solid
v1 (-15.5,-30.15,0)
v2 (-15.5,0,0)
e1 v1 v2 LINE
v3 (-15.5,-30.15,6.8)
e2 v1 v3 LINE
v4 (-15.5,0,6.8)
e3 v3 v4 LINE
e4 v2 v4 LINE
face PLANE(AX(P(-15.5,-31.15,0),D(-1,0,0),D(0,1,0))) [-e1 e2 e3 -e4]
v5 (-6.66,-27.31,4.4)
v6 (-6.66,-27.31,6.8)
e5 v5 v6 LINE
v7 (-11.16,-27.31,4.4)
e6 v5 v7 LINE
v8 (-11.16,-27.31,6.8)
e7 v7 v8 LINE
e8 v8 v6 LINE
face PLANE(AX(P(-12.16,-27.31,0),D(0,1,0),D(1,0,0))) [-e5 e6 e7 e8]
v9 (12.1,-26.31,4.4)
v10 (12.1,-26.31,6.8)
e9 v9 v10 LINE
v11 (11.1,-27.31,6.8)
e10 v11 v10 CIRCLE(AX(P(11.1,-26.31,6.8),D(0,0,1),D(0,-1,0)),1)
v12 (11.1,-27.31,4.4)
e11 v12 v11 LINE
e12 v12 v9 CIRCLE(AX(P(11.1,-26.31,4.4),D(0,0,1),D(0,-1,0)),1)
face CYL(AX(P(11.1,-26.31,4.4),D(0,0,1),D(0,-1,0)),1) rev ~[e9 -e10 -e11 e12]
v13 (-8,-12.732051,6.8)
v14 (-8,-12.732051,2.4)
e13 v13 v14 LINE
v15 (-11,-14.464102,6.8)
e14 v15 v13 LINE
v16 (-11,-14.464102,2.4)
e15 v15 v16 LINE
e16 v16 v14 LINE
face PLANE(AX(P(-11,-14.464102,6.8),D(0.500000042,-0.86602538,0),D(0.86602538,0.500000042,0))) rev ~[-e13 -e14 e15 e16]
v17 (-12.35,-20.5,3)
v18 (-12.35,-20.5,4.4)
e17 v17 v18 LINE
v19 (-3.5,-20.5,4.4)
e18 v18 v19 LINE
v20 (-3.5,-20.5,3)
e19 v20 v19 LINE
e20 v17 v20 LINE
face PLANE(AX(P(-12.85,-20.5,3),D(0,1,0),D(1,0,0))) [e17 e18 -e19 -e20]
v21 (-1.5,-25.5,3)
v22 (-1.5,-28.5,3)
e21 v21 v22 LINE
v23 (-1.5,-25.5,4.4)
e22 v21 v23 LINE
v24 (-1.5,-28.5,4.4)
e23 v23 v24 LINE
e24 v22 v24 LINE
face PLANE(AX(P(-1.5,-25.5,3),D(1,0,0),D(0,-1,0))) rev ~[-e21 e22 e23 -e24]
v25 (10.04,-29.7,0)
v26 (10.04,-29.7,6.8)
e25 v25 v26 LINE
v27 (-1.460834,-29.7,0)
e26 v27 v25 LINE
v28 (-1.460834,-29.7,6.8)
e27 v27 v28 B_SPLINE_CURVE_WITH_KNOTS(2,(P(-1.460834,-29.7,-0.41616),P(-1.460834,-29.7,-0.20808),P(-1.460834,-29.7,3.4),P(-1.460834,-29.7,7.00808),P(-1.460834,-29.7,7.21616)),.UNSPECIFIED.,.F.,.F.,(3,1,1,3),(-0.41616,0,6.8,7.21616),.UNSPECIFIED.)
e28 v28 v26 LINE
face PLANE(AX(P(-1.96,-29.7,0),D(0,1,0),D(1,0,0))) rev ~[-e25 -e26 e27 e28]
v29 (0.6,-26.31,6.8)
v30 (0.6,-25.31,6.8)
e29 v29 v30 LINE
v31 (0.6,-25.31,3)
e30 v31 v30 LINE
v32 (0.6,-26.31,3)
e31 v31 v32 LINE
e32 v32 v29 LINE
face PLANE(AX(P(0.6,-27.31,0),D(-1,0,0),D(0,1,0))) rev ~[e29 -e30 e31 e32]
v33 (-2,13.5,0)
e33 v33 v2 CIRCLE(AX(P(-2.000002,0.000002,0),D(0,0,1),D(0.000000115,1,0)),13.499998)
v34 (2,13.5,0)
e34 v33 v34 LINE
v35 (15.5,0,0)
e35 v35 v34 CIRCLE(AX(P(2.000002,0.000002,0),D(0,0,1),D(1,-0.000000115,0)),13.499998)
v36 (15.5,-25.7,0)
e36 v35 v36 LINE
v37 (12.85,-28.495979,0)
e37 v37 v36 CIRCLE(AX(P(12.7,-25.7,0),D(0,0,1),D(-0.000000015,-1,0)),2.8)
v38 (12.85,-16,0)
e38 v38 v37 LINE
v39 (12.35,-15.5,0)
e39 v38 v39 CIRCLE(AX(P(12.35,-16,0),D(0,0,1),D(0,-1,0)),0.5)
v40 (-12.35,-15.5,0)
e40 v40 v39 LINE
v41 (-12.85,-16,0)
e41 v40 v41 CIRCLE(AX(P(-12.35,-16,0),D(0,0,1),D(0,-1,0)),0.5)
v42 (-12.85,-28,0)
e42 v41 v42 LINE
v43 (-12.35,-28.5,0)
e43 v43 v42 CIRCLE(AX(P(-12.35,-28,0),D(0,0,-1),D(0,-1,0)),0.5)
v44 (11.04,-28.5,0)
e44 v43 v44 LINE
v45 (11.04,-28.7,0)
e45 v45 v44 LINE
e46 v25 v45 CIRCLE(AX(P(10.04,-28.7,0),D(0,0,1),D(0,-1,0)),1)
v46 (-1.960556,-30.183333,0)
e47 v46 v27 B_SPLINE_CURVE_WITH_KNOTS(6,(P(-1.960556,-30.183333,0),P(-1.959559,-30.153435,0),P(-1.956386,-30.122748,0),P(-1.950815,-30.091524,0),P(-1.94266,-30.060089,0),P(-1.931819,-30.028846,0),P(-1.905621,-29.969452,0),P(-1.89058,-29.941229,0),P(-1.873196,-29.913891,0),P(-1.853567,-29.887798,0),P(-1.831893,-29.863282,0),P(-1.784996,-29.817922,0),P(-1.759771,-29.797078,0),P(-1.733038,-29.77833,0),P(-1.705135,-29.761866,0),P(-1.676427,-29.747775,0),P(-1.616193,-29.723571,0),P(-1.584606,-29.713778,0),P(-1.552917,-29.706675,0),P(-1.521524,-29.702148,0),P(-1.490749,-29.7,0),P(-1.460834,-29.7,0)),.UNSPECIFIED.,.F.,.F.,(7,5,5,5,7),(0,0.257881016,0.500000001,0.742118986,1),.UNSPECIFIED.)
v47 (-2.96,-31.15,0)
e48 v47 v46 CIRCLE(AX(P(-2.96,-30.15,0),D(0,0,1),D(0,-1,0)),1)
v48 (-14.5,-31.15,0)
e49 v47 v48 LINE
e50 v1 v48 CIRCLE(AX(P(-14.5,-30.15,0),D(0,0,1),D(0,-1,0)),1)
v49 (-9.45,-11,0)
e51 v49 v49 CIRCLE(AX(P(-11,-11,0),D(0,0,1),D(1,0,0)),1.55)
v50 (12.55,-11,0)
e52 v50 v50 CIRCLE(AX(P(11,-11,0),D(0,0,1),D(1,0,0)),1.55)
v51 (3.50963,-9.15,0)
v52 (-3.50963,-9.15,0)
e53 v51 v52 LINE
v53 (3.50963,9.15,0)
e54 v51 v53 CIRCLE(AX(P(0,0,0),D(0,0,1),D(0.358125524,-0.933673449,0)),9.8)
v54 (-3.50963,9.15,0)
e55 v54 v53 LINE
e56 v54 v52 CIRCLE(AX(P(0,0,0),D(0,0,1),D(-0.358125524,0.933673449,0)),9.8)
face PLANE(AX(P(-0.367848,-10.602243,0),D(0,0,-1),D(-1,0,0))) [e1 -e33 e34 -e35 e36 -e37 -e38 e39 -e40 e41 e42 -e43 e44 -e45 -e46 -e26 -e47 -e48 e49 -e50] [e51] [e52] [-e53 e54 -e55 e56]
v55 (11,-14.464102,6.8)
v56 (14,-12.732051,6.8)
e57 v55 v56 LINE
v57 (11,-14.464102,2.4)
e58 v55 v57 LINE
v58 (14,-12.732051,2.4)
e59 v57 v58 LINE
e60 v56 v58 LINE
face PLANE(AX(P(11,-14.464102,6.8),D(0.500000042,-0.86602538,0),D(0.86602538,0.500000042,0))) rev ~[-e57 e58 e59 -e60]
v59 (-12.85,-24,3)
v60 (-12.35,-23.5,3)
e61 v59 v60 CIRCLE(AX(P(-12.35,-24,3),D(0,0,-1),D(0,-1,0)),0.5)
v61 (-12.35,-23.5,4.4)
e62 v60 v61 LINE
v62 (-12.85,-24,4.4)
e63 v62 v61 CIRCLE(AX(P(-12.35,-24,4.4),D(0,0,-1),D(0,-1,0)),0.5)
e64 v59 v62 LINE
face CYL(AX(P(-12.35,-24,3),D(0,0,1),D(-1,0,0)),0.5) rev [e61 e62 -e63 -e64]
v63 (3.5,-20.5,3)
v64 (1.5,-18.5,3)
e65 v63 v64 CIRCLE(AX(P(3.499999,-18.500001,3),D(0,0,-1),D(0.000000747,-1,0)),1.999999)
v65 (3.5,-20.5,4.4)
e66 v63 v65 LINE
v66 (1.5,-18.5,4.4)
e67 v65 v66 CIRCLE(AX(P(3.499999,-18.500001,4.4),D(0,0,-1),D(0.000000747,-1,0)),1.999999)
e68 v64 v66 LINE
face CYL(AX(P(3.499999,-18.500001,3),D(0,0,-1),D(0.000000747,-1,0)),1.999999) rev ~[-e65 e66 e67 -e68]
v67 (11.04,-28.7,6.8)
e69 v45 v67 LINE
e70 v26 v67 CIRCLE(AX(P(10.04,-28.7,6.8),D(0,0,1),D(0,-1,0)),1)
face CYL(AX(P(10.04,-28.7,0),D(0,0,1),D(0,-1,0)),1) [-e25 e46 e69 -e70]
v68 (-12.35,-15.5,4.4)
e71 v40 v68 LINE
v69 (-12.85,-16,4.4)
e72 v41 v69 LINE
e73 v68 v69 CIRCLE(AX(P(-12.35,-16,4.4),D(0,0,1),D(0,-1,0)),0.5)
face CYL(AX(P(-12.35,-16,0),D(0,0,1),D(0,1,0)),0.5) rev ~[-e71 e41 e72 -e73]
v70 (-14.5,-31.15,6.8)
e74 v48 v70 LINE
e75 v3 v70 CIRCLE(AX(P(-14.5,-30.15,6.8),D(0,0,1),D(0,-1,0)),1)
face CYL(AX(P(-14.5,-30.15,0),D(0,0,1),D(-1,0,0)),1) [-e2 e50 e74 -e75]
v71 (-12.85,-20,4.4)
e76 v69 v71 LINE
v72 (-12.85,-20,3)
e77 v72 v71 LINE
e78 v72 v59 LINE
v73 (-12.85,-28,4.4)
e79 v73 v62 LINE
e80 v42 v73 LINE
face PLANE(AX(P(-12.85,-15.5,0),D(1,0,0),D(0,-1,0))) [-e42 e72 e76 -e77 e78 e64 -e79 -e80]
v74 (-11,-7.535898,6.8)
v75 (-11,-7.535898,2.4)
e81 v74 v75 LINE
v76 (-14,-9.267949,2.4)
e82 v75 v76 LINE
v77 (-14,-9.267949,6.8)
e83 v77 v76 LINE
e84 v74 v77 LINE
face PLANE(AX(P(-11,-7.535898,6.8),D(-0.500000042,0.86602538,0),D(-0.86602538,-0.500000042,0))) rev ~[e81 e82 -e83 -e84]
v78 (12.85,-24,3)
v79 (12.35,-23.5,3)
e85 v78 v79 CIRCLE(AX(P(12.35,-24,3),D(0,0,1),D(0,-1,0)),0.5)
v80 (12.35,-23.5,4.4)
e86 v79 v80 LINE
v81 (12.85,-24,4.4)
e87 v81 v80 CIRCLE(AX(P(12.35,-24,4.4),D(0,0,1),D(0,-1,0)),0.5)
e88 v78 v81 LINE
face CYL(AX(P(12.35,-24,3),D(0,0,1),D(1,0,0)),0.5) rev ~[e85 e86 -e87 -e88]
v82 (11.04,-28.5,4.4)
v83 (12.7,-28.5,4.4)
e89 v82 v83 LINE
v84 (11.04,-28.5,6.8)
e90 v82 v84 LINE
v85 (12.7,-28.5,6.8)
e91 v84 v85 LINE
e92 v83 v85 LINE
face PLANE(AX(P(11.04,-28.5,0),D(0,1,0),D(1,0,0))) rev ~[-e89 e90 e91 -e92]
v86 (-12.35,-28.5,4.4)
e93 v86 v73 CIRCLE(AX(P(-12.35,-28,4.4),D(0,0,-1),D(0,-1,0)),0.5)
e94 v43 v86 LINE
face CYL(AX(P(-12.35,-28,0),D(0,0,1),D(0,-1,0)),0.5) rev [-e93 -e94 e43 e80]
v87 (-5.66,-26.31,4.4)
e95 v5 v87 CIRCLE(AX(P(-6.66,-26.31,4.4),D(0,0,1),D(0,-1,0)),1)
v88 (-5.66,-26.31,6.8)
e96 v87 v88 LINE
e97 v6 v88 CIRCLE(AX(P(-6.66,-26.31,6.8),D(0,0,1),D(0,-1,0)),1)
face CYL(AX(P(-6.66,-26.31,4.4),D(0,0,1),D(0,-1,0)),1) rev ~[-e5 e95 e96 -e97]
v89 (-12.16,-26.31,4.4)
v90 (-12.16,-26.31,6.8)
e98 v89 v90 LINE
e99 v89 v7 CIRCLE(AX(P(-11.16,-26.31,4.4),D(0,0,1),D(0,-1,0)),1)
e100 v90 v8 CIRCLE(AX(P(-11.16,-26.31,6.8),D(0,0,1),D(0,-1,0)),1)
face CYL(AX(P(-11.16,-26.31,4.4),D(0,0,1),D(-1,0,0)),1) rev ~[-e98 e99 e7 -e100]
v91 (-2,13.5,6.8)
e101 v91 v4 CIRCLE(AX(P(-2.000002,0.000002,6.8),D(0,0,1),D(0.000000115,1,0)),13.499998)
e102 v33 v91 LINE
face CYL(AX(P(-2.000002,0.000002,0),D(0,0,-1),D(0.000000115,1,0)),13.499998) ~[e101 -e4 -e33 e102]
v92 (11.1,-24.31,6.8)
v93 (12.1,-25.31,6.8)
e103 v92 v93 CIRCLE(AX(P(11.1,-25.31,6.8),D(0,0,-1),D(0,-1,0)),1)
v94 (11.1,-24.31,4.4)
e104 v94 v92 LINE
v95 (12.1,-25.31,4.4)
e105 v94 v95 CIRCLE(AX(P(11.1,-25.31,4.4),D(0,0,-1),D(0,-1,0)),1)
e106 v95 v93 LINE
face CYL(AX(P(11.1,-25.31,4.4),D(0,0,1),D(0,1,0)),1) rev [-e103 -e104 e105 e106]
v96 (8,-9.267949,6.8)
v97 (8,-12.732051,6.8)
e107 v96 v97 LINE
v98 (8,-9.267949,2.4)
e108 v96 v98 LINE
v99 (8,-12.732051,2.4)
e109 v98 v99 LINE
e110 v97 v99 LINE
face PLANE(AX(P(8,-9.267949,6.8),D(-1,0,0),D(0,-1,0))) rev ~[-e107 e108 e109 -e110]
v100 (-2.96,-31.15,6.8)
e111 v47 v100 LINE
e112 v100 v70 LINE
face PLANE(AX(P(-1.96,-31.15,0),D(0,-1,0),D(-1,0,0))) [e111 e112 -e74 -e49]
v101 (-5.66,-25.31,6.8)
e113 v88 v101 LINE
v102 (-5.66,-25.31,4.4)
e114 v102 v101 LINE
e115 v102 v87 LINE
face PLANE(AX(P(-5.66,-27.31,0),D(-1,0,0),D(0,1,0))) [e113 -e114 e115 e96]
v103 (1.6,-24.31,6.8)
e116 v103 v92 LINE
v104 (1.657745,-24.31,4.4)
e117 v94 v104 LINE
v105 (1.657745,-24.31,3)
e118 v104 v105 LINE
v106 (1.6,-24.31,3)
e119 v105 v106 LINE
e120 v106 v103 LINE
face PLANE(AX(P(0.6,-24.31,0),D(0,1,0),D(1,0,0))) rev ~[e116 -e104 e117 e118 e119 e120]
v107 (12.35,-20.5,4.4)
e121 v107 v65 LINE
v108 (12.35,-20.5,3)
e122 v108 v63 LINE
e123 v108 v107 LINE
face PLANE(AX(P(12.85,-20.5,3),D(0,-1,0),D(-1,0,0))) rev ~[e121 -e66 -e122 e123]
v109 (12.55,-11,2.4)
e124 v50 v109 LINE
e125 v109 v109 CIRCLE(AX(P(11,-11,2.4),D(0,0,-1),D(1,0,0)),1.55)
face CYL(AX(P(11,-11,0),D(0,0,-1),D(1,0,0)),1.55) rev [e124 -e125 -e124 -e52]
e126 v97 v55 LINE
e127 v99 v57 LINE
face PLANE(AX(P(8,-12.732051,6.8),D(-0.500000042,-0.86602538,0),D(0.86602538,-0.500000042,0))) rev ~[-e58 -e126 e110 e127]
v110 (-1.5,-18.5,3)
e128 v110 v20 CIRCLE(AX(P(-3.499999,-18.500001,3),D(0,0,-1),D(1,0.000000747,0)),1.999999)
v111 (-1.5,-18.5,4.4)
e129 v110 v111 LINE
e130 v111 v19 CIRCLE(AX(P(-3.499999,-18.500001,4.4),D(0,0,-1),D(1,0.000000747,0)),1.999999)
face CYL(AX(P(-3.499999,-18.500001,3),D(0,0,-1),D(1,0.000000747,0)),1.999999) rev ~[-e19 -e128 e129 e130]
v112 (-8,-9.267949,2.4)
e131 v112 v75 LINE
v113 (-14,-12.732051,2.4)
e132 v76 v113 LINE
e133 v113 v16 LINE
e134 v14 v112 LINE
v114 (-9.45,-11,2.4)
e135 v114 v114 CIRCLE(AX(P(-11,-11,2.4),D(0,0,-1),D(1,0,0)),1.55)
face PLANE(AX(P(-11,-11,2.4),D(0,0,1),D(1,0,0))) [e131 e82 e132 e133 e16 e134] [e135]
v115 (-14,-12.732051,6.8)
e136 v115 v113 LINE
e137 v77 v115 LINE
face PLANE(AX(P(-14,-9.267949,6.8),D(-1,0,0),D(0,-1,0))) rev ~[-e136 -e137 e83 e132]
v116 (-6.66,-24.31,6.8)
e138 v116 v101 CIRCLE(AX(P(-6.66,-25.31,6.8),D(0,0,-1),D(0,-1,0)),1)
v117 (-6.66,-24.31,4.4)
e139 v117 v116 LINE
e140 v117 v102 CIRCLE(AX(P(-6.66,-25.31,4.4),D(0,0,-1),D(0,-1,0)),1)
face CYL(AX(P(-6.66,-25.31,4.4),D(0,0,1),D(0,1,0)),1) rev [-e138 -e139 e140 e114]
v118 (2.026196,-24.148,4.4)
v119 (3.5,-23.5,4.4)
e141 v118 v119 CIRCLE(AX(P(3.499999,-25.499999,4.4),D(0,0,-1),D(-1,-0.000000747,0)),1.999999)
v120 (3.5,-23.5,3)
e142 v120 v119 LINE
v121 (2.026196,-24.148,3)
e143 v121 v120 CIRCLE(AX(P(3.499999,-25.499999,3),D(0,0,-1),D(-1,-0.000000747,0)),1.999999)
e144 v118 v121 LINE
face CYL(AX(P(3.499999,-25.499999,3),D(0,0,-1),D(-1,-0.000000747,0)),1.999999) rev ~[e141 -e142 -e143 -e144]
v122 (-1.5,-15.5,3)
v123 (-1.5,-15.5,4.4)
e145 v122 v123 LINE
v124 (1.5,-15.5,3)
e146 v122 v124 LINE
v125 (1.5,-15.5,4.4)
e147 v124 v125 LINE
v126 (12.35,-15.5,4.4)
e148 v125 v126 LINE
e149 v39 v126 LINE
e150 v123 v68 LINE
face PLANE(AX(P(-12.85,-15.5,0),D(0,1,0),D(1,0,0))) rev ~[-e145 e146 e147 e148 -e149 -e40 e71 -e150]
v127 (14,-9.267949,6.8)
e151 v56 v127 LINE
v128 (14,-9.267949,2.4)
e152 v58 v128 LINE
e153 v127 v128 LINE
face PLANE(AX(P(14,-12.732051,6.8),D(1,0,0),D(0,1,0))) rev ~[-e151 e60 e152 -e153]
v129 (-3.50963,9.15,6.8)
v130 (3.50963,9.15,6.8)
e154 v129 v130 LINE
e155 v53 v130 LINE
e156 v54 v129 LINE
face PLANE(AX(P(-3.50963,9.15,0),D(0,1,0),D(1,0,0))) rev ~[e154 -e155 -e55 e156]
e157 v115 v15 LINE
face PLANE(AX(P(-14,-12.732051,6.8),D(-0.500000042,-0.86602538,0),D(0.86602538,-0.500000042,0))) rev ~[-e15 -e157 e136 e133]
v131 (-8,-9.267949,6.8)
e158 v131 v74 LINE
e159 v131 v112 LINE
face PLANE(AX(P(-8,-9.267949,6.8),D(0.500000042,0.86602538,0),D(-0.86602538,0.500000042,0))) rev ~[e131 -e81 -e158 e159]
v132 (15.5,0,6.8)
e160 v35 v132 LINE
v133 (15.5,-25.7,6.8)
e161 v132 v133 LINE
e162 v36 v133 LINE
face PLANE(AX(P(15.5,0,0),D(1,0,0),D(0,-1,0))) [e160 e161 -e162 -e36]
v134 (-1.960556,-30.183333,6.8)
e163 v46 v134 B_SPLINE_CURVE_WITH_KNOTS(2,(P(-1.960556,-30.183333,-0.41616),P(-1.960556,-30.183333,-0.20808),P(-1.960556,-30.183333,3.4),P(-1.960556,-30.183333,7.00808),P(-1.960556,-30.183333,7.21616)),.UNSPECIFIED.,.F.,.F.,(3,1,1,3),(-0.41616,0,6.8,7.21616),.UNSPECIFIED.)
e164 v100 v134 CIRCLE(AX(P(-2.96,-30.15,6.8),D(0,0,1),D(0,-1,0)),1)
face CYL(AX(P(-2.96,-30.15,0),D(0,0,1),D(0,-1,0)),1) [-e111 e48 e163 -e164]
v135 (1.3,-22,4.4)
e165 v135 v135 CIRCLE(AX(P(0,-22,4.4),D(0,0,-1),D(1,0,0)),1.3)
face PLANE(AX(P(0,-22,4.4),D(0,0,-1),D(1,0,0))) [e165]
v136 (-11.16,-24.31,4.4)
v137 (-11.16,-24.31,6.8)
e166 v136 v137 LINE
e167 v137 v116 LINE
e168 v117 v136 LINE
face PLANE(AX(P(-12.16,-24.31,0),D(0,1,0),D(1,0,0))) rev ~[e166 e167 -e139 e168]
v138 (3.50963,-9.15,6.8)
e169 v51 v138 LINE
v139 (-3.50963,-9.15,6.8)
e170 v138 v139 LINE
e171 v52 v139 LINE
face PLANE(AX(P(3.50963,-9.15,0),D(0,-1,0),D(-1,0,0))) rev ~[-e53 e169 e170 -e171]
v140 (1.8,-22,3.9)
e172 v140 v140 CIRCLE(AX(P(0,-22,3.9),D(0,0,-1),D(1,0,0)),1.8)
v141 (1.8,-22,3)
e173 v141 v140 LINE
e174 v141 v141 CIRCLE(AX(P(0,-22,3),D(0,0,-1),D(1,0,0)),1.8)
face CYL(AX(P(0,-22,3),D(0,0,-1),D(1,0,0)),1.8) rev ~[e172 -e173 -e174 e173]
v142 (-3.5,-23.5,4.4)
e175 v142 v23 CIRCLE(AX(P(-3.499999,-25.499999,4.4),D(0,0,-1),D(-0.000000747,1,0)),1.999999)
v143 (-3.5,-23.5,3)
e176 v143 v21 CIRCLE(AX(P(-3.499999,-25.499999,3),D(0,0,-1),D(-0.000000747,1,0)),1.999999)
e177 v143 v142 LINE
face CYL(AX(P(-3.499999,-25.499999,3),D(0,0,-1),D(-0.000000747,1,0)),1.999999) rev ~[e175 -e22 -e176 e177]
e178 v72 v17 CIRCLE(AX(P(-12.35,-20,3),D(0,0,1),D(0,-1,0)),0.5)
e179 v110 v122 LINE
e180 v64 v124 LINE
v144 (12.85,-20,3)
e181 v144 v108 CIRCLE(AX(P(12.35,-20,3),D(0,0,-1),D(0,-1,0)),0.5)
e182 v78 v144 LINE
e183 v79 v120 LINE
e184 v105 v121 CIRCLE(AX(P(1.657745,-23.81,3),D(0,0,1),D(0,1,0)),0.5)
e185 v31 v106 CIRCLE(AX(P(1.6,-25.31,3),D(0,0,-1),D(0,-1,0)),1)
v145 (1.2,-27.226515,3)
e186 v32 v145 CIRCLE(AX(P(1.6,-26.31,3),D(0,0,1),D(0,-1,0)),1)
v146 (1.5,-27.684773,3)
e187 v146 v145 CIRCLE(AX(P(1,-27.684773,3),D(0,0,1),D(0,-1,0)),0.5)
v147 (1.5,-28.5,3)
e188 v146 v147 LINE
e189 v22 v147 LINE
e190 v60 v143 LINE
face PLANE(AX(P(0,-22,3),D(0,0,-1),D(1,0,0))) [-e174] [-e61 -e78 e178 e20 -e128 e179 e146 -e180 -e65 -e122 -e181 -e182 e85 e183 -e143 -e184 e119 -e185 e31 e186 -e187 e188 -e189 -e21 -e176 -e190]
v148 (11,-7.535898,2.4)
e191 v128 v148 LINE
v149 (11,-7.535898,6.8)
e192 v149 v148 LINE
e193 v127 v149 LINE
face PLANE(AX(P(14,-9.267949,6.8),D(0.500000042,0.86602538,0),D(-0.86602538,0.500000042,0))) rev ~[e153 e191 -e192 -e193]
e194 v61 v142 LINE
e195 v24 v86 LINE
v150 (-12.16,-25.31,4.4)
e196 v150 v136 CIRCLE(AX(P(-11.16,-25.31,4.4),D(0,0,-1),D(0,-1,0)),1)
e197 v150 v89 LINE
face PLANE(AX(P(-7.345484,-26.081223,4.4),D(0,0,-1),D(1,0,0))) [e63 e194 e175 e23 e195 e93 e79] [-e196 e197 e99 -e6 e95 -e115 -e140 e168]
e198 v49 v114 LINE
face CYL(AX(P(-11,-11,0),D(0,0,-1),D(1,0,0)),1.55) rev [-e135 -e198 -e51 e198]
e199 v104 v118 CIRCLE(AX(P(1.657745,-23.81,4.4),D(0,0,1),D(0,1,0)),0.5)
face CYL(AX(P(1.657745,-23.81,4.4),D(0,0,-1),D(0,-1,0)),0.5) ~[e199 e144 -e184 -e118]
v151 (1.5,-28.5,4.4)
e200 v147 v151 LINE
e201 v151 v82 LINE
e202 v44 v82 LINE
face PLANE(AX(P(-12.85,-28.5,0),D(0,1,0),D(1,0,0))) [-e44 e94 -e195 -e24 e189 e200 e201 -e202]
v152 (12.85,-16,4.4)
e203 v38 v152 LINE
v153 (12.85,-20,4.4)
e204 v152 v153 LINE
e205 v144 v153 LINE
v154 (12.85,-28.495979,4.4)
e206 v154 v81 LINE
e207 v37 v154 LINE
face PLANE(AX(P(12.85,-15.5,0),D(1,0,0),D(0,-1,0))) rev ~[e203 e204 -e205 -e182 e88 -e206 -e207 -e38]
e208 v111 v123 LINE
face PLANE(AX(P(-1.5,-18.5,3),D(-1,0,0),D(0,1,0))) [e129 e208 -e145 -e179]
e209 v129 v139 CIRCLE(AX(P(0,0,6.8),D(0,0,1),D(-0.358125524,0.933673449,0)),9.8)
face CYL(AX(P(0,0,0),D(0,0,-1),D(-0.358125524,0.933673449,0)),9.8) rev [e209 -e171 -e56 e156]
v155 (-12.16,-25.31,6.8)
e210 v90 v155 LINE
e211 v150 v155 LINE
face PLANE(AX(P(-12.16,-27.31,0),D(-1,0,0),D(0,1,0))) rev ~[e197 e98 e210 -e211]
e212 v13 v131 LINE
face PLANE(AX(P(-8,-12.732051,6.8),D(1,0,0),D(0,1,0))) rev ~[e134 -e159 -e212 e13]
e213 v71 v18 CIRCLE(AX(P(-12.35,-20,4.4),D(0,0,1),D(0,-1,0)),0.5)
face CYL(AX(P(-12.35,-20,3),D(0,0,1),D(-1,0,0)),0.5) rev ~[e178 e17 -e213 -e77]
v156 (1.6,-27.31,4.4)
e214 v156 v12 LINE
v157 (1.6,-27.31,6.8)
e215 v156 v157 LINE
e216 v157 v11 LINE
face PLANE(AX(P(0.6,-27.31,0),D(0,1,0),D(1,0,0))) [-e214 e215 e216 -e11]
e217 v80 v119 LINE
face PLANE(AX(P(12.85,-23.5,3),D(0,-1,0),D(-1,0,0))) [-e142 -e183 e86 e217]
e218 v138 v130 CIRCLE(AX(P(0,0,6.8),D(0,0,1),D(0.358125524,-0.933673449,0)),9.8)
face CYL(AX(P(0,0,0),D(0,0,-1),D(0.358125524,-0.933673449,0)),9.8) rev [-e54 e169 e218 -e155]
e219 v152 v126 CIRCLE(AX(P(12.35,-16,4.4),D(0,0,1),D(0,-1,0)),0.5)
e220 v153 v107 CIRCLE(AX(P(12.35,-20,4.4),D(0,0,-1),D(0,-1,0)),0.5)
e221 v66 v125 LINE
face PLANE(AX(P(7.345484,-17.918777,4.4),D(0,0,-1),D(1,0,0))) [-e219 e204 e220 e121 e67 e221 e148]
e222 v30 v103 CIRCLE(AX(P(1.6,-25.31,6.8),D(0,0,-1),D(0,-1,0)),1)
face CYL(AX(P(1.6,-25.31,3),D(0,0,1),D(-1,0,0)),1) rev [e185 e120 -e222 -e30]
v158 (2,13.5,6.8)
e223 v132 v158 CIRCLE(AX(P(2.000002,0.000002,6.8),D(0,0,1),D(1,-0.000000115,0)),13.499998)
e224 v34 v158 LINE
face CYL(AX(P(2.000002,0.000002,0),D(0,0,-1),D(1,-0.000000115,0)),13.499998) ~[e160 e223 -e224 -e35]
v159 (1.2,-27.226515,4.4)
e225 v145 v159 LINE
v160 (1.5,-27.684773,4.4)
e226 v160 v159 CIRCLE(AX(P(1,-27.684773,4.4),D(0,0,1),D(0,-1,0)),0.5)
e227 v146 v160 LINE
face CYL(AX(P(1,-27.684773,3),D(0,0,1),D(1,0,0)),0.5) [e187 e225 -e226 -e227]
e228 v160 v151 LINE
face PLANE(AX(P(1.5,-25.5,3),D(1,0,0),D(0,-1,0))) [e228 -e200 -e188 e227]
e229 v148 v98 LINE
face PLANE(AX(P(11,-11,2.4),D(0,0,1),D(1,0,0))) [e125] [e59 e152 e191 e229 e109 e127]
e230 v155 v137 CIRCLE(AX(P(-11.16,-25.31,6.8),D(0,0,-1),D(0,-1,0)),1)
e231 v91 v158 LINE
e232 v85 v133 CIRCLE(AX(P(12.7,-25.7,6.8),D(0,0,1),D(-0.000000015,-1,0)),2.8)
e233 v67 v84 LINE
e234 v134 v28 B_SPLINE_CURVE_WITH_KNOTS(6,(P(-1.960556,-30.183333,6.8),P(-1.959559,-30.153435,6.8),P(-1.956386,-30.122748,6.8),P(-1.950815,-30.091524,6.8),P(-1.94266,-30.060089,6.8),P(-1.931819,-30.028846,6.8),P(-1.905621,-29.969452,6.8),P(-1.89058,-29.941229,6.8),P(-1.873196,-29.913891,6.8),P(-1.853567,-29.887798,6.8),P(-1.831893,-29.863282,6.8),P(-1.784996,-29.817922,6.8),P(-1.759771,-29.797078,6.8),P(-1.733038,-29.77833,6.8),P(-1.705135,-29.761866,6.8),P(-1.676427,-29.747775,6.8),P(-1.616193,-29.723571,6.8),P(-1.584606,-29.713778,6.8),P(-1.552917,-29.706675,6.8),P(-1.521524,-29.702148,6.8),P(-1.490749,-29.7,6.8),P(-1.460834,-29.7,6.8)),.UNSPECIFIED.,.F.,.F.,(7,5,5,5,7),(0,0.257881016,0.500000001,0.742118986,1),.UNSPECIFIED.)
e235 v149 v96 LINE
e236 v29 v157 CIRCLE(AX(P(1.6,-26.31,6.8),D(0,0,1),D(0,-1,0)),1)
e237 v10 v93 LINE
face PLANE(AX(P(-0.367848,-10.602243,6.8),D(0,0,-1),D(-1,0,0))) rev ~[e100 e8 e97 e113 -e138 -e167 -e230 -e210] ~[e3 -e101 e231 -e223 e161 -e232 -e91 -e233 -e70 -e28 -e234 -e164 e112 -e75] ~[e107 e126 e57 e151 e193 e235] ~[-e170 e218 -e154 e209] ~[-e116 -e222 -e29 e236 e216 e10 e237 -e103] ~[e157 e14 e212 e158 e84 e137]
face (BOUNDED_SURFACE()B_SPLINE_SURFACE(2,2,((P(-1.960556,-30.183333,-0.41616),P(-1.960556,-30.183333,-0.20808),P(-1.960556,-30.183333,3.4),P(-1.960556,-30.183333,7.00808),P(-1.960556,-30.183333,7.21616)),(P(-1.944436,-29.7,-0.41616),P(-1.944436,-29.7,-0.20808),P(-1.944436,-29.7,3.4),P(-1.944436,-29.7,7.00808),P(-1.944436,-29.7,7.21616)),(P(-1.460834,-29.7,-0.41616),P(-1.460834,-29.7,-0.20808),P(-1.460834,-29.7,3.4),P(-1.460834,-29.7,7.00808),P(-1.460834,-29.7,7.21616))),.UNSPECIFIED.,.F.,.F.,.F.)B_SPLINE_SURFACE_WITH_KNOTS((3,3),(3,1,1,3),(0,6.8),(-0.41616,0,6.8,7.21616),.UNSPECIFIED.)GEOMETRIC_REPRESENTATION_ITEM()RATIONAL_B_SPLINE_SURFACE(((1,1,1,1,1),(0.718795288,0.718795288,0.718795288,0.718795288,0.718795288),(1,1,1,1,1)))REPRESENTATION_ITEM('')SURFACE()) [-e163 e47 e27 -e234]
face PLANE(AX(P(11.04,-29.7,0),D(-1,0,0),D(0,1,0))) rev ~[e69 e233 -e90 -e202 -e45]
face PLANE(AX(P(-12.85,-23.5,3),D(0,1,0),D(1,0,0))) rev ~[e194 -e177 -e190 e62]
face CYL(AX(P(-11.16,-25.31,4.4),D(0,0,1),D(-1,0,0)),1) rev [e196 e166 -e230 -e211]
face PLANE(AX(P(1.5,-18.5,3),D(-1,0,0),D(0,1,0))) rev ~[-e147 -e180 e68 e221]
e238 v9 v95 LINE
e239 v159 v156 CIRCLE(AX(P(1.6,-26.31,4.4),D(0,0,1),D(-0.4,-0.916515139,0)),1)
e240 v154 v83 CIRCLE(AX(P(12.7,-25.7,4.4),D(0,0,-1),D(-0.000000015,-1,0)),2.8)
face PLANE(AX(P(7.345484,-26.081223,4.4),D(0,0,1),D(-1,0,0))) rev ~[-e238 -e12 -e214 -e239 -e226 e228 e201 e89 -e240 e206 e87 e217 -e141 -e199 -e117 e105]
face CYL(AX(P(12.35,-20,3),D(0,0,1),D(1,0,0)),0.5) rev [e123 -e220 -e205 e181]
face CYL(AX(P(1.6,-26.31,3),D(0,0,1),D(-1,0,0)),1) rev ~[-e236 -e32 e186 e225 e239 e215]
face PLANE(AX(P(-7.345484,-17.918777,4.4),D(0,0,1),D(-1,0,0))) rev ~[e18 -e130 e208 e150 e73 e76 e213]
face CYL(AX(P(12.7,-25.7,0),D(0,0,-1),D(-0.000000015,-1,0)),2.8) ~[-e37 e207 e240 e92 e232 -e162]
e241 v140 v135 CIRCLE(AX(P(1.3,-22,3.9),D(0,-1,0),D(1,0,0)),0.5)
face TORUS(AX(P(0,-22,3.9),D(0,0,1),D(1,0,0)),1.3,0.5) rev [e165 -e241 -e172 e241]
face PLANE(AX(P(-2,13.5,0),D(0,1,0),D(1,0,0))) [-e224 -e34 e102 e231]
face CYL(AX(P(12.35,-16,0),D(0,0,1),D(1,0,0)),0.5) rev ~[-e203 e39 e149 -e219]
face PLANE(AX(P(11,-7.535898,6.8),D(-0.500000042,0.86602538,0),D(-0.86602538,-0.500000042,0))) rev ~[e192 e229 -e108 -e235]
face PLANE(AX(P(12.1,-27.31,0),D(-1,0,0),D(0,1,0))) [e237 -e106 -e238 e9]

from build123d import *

# Parameters (mm, degrees)
SKETCH_R        = 1.55
SKETCH_W        = 6.5
SKETCH_H        = 3
SKETCH_W_2      = 11.5
PAD_DEPTH       = 6.8
SKETCH005_W     = 25.7
SKETCH005_H     = 13
POCKET_DEPTH    = 3
SKETCH006_R     = 1.8
POCKET001_DEPTH = 1.4
POCKET002_DEPTH = 4.4
FILLET_R        = 1
FILLET001_R     = 0.5


with BuildPart() as part:
    # Sketch → Pad (new body)
    with BuildSketch(Plane.XY):
        with BuildLine():
            Line((-2, 13.5), (2, 13.5))
            ThreePointArc((15.5, 0), (11.545942, 9.545942), (2, 13.5))
            Line((15.5, 0), (15.5, -25.7))
            ThreePointArc((12.7, -28.5), (14.679899, -27.679899), (15.5, -25.7))
            Line((11.04, -28.5), (12.7, -28.5))
            Line((11.04, -29.7), (11.04, -28.5))
            Line((-1.96, -29.7), (11.04, -29.7))
            Line((-1.96, -31.15), (-1.96, -29.7))
            Line((-1.96, -31.15), (-15.5, -31.15))
            Line((-15.5, -31.15), (-15.5, 0))
            ThreePointArc((-2, 13.5), (-11.545942, 9.545942), (-15.5, 0))
        make_face()
        with Locations((-11, -11)):
            Circle(SKETCH_R, mode=Mode.SUBTRACT)
        with Locations((11, -11)):
            Circle(SKETCH_R, mode=Mode.SUBTRACT)
        with BuildLine():
            ThreePointArc((-3.50963, 9.15), (-9.8, 0), (-3.50963, -9.15))
            Line((3.50963, -9.15), (-3.50963, -9.15))
            ThreePointArc((3.50963, -9.15), (9.8, 0), (3.50963, 9.15))
            Line((-3.50963, 9.15), (3.50963, 9.15))
        make_face(mode=Mode.SUBTRACT)
        with Locations((-8.91, -25.81)):
            Rectangle(SKETCH_W, SKETCH_H, mode=Mode.SUBTRACT)
        with Locations((6.35, -25.81)):
            Rectangle(SKETCH_W_2, SKETCH_H, mode=Mode.SUBTRACT)
    extrude(amount=PAD_DEPTH)

    # Sketch005 (on Face26 of Pad) → Pocket (cut)
    with BuildSketch(Plane(origin=(0, 0, 0), x_dir=(1, 0, 0), z_dir=(0, 0, -1))):
        with Locations((0, 22)):
            Rectangle(SKETCH005_W, SKETCH005_H)
    extrude(amount=-POCKET_DEPTH, mode=Mode.SUBTRACT)

    # Sketch006 (on Face32 of Pocket) → Pocket001 (cut)
    with BuildSketch(Plane(origin=(0, 0, 3), x_dir=(1, 0, 0), z_dir=(0, 0, -1))):
        with Locations((0, 22)):
            Circle(SKETCH006_R)
        with BuildLine():
            Line((-12.85, 20.5), (-3.5, 20.5))
            ThreePointArc((-1.5, 18.5), (-2.085786, 19.914214), (-3.5, 20.5))
            Line((-1.5, 18.5), (-1.5, 15.5))
            Line((-1.5, 15.5), (-12.85, 15.5))
            Line((-12.85, 15.5), (-12.85, 20.5))
        make_face()
        with BuildLine():
            Line((1.5, 15.5), (12.85, 15.5))
            Line((12.85, 15.5), (12.85, 20.5))
            Line((12.85, 20.5), (3.5, 20.5))
            ThreePointArc((3.5, 20.5), (2.085786, 19.914214), (1.5, 18.5))
            Line((1.5, 18.5), (1.5, 15.5))
        make_face()
        with BuildLine():
            Line((-12.85, 23.5), (-3.5, 23.5))
            ThreePointArc((-3.5, 23.5), (-2.085786, 24.085786), (-1.5, 25.5))
            Line((-1.5, 25.5), (-1.5, 28.5))
            Line((-1.5, 28.5), (-12.85, 28.5))
            Line((-12.85, 28.5), (-12.85, 23.5))
        make_face()
        with BuildLine():
            Line((1.5, 28.5), (12.85, 28.5))
            Line((12.85, 28.5), (12.85, 23.5))
            Line((12.85, 23.5), (3.5, 23.5))
            ThreePointArc((1.5, 25.5), (2.085786, 24.085786), (3.5, 23.5))
            Line((1.5, 25.5), (1.5, 28.5))
        make_face()
    extrude(amount=-POCKET001_DEPTH, mode=Mode.SUBTRACT)

    # Sketch001 (on Face5 of Pocket001) → Pocket002 (cut)
    with BuildSketch(Plane.XY.offset(6.8)):
        Polygon((-8, -12.732051), (-8, -9.267949), (-11, -7.535898), (-14, -9.267949), (-14, -12.732051), (-11, -14.464102), align=None)
        Polygon((14, -12.732051), (14, -9.267949), (11, -7.535898), (8, -9.267949), (8, -12.732051), (11, -14.464102), align=None)
    extrude(amount=-POCKET002_DEPTH, mode=Mode.SUBTRACT)

    # Fillet
    fillet_edges = [part.edges().sort_by_distance(p)[0] for p in [
        (-15.5, -31.15, 3.4),
        (-1.96, -31.15, 3.4),
        (11.04, -29.7, 3.4),
        (0.6, -24.31, 4.9),
        (-12.16, -24.31, 5.6),
        (-12.16, -27.31, 5.6),
        (0.6, -27.31, 4.9),
        (-5.66, -24.31, 5.6),
        (12.1, -24.31, 5.6),
        (-5.66, -27.31, 5.6),
        (12.1, -27.31, 5.6),
    ]]
    fillet(fillet_edges, radius=FILLET_R)

    # Fillet001
    fillet001_edges = [part.edges().sort_by_distance(p)[0] for p in [
        (12.85, -15.5, 1.5),
        (12.85, -15.5, 3.7),
        (12.85, -20.5, 3.7),
        (-12.85, -20.5, 3.7),
        (12.85, -23.5, 3.7),
        (-12.85, -23.5, 3.7),
        (-12.85, -15.5, 3.7),
        (-12.85, -15.5, 1.5),
        (-12.85, -28.5, 3.7),
        (-12.85, -28.5, 1.5),
        (1.5, -27.304987, 3.7),
        (-1.96, -29.7, 3.4),
        (-1.8, -22, 4.4),
        (1.892549, -24.31, 3.7),
    ]]
    fillet(fillet001_edges, radius=FILLET001_R)


solid = part.part
